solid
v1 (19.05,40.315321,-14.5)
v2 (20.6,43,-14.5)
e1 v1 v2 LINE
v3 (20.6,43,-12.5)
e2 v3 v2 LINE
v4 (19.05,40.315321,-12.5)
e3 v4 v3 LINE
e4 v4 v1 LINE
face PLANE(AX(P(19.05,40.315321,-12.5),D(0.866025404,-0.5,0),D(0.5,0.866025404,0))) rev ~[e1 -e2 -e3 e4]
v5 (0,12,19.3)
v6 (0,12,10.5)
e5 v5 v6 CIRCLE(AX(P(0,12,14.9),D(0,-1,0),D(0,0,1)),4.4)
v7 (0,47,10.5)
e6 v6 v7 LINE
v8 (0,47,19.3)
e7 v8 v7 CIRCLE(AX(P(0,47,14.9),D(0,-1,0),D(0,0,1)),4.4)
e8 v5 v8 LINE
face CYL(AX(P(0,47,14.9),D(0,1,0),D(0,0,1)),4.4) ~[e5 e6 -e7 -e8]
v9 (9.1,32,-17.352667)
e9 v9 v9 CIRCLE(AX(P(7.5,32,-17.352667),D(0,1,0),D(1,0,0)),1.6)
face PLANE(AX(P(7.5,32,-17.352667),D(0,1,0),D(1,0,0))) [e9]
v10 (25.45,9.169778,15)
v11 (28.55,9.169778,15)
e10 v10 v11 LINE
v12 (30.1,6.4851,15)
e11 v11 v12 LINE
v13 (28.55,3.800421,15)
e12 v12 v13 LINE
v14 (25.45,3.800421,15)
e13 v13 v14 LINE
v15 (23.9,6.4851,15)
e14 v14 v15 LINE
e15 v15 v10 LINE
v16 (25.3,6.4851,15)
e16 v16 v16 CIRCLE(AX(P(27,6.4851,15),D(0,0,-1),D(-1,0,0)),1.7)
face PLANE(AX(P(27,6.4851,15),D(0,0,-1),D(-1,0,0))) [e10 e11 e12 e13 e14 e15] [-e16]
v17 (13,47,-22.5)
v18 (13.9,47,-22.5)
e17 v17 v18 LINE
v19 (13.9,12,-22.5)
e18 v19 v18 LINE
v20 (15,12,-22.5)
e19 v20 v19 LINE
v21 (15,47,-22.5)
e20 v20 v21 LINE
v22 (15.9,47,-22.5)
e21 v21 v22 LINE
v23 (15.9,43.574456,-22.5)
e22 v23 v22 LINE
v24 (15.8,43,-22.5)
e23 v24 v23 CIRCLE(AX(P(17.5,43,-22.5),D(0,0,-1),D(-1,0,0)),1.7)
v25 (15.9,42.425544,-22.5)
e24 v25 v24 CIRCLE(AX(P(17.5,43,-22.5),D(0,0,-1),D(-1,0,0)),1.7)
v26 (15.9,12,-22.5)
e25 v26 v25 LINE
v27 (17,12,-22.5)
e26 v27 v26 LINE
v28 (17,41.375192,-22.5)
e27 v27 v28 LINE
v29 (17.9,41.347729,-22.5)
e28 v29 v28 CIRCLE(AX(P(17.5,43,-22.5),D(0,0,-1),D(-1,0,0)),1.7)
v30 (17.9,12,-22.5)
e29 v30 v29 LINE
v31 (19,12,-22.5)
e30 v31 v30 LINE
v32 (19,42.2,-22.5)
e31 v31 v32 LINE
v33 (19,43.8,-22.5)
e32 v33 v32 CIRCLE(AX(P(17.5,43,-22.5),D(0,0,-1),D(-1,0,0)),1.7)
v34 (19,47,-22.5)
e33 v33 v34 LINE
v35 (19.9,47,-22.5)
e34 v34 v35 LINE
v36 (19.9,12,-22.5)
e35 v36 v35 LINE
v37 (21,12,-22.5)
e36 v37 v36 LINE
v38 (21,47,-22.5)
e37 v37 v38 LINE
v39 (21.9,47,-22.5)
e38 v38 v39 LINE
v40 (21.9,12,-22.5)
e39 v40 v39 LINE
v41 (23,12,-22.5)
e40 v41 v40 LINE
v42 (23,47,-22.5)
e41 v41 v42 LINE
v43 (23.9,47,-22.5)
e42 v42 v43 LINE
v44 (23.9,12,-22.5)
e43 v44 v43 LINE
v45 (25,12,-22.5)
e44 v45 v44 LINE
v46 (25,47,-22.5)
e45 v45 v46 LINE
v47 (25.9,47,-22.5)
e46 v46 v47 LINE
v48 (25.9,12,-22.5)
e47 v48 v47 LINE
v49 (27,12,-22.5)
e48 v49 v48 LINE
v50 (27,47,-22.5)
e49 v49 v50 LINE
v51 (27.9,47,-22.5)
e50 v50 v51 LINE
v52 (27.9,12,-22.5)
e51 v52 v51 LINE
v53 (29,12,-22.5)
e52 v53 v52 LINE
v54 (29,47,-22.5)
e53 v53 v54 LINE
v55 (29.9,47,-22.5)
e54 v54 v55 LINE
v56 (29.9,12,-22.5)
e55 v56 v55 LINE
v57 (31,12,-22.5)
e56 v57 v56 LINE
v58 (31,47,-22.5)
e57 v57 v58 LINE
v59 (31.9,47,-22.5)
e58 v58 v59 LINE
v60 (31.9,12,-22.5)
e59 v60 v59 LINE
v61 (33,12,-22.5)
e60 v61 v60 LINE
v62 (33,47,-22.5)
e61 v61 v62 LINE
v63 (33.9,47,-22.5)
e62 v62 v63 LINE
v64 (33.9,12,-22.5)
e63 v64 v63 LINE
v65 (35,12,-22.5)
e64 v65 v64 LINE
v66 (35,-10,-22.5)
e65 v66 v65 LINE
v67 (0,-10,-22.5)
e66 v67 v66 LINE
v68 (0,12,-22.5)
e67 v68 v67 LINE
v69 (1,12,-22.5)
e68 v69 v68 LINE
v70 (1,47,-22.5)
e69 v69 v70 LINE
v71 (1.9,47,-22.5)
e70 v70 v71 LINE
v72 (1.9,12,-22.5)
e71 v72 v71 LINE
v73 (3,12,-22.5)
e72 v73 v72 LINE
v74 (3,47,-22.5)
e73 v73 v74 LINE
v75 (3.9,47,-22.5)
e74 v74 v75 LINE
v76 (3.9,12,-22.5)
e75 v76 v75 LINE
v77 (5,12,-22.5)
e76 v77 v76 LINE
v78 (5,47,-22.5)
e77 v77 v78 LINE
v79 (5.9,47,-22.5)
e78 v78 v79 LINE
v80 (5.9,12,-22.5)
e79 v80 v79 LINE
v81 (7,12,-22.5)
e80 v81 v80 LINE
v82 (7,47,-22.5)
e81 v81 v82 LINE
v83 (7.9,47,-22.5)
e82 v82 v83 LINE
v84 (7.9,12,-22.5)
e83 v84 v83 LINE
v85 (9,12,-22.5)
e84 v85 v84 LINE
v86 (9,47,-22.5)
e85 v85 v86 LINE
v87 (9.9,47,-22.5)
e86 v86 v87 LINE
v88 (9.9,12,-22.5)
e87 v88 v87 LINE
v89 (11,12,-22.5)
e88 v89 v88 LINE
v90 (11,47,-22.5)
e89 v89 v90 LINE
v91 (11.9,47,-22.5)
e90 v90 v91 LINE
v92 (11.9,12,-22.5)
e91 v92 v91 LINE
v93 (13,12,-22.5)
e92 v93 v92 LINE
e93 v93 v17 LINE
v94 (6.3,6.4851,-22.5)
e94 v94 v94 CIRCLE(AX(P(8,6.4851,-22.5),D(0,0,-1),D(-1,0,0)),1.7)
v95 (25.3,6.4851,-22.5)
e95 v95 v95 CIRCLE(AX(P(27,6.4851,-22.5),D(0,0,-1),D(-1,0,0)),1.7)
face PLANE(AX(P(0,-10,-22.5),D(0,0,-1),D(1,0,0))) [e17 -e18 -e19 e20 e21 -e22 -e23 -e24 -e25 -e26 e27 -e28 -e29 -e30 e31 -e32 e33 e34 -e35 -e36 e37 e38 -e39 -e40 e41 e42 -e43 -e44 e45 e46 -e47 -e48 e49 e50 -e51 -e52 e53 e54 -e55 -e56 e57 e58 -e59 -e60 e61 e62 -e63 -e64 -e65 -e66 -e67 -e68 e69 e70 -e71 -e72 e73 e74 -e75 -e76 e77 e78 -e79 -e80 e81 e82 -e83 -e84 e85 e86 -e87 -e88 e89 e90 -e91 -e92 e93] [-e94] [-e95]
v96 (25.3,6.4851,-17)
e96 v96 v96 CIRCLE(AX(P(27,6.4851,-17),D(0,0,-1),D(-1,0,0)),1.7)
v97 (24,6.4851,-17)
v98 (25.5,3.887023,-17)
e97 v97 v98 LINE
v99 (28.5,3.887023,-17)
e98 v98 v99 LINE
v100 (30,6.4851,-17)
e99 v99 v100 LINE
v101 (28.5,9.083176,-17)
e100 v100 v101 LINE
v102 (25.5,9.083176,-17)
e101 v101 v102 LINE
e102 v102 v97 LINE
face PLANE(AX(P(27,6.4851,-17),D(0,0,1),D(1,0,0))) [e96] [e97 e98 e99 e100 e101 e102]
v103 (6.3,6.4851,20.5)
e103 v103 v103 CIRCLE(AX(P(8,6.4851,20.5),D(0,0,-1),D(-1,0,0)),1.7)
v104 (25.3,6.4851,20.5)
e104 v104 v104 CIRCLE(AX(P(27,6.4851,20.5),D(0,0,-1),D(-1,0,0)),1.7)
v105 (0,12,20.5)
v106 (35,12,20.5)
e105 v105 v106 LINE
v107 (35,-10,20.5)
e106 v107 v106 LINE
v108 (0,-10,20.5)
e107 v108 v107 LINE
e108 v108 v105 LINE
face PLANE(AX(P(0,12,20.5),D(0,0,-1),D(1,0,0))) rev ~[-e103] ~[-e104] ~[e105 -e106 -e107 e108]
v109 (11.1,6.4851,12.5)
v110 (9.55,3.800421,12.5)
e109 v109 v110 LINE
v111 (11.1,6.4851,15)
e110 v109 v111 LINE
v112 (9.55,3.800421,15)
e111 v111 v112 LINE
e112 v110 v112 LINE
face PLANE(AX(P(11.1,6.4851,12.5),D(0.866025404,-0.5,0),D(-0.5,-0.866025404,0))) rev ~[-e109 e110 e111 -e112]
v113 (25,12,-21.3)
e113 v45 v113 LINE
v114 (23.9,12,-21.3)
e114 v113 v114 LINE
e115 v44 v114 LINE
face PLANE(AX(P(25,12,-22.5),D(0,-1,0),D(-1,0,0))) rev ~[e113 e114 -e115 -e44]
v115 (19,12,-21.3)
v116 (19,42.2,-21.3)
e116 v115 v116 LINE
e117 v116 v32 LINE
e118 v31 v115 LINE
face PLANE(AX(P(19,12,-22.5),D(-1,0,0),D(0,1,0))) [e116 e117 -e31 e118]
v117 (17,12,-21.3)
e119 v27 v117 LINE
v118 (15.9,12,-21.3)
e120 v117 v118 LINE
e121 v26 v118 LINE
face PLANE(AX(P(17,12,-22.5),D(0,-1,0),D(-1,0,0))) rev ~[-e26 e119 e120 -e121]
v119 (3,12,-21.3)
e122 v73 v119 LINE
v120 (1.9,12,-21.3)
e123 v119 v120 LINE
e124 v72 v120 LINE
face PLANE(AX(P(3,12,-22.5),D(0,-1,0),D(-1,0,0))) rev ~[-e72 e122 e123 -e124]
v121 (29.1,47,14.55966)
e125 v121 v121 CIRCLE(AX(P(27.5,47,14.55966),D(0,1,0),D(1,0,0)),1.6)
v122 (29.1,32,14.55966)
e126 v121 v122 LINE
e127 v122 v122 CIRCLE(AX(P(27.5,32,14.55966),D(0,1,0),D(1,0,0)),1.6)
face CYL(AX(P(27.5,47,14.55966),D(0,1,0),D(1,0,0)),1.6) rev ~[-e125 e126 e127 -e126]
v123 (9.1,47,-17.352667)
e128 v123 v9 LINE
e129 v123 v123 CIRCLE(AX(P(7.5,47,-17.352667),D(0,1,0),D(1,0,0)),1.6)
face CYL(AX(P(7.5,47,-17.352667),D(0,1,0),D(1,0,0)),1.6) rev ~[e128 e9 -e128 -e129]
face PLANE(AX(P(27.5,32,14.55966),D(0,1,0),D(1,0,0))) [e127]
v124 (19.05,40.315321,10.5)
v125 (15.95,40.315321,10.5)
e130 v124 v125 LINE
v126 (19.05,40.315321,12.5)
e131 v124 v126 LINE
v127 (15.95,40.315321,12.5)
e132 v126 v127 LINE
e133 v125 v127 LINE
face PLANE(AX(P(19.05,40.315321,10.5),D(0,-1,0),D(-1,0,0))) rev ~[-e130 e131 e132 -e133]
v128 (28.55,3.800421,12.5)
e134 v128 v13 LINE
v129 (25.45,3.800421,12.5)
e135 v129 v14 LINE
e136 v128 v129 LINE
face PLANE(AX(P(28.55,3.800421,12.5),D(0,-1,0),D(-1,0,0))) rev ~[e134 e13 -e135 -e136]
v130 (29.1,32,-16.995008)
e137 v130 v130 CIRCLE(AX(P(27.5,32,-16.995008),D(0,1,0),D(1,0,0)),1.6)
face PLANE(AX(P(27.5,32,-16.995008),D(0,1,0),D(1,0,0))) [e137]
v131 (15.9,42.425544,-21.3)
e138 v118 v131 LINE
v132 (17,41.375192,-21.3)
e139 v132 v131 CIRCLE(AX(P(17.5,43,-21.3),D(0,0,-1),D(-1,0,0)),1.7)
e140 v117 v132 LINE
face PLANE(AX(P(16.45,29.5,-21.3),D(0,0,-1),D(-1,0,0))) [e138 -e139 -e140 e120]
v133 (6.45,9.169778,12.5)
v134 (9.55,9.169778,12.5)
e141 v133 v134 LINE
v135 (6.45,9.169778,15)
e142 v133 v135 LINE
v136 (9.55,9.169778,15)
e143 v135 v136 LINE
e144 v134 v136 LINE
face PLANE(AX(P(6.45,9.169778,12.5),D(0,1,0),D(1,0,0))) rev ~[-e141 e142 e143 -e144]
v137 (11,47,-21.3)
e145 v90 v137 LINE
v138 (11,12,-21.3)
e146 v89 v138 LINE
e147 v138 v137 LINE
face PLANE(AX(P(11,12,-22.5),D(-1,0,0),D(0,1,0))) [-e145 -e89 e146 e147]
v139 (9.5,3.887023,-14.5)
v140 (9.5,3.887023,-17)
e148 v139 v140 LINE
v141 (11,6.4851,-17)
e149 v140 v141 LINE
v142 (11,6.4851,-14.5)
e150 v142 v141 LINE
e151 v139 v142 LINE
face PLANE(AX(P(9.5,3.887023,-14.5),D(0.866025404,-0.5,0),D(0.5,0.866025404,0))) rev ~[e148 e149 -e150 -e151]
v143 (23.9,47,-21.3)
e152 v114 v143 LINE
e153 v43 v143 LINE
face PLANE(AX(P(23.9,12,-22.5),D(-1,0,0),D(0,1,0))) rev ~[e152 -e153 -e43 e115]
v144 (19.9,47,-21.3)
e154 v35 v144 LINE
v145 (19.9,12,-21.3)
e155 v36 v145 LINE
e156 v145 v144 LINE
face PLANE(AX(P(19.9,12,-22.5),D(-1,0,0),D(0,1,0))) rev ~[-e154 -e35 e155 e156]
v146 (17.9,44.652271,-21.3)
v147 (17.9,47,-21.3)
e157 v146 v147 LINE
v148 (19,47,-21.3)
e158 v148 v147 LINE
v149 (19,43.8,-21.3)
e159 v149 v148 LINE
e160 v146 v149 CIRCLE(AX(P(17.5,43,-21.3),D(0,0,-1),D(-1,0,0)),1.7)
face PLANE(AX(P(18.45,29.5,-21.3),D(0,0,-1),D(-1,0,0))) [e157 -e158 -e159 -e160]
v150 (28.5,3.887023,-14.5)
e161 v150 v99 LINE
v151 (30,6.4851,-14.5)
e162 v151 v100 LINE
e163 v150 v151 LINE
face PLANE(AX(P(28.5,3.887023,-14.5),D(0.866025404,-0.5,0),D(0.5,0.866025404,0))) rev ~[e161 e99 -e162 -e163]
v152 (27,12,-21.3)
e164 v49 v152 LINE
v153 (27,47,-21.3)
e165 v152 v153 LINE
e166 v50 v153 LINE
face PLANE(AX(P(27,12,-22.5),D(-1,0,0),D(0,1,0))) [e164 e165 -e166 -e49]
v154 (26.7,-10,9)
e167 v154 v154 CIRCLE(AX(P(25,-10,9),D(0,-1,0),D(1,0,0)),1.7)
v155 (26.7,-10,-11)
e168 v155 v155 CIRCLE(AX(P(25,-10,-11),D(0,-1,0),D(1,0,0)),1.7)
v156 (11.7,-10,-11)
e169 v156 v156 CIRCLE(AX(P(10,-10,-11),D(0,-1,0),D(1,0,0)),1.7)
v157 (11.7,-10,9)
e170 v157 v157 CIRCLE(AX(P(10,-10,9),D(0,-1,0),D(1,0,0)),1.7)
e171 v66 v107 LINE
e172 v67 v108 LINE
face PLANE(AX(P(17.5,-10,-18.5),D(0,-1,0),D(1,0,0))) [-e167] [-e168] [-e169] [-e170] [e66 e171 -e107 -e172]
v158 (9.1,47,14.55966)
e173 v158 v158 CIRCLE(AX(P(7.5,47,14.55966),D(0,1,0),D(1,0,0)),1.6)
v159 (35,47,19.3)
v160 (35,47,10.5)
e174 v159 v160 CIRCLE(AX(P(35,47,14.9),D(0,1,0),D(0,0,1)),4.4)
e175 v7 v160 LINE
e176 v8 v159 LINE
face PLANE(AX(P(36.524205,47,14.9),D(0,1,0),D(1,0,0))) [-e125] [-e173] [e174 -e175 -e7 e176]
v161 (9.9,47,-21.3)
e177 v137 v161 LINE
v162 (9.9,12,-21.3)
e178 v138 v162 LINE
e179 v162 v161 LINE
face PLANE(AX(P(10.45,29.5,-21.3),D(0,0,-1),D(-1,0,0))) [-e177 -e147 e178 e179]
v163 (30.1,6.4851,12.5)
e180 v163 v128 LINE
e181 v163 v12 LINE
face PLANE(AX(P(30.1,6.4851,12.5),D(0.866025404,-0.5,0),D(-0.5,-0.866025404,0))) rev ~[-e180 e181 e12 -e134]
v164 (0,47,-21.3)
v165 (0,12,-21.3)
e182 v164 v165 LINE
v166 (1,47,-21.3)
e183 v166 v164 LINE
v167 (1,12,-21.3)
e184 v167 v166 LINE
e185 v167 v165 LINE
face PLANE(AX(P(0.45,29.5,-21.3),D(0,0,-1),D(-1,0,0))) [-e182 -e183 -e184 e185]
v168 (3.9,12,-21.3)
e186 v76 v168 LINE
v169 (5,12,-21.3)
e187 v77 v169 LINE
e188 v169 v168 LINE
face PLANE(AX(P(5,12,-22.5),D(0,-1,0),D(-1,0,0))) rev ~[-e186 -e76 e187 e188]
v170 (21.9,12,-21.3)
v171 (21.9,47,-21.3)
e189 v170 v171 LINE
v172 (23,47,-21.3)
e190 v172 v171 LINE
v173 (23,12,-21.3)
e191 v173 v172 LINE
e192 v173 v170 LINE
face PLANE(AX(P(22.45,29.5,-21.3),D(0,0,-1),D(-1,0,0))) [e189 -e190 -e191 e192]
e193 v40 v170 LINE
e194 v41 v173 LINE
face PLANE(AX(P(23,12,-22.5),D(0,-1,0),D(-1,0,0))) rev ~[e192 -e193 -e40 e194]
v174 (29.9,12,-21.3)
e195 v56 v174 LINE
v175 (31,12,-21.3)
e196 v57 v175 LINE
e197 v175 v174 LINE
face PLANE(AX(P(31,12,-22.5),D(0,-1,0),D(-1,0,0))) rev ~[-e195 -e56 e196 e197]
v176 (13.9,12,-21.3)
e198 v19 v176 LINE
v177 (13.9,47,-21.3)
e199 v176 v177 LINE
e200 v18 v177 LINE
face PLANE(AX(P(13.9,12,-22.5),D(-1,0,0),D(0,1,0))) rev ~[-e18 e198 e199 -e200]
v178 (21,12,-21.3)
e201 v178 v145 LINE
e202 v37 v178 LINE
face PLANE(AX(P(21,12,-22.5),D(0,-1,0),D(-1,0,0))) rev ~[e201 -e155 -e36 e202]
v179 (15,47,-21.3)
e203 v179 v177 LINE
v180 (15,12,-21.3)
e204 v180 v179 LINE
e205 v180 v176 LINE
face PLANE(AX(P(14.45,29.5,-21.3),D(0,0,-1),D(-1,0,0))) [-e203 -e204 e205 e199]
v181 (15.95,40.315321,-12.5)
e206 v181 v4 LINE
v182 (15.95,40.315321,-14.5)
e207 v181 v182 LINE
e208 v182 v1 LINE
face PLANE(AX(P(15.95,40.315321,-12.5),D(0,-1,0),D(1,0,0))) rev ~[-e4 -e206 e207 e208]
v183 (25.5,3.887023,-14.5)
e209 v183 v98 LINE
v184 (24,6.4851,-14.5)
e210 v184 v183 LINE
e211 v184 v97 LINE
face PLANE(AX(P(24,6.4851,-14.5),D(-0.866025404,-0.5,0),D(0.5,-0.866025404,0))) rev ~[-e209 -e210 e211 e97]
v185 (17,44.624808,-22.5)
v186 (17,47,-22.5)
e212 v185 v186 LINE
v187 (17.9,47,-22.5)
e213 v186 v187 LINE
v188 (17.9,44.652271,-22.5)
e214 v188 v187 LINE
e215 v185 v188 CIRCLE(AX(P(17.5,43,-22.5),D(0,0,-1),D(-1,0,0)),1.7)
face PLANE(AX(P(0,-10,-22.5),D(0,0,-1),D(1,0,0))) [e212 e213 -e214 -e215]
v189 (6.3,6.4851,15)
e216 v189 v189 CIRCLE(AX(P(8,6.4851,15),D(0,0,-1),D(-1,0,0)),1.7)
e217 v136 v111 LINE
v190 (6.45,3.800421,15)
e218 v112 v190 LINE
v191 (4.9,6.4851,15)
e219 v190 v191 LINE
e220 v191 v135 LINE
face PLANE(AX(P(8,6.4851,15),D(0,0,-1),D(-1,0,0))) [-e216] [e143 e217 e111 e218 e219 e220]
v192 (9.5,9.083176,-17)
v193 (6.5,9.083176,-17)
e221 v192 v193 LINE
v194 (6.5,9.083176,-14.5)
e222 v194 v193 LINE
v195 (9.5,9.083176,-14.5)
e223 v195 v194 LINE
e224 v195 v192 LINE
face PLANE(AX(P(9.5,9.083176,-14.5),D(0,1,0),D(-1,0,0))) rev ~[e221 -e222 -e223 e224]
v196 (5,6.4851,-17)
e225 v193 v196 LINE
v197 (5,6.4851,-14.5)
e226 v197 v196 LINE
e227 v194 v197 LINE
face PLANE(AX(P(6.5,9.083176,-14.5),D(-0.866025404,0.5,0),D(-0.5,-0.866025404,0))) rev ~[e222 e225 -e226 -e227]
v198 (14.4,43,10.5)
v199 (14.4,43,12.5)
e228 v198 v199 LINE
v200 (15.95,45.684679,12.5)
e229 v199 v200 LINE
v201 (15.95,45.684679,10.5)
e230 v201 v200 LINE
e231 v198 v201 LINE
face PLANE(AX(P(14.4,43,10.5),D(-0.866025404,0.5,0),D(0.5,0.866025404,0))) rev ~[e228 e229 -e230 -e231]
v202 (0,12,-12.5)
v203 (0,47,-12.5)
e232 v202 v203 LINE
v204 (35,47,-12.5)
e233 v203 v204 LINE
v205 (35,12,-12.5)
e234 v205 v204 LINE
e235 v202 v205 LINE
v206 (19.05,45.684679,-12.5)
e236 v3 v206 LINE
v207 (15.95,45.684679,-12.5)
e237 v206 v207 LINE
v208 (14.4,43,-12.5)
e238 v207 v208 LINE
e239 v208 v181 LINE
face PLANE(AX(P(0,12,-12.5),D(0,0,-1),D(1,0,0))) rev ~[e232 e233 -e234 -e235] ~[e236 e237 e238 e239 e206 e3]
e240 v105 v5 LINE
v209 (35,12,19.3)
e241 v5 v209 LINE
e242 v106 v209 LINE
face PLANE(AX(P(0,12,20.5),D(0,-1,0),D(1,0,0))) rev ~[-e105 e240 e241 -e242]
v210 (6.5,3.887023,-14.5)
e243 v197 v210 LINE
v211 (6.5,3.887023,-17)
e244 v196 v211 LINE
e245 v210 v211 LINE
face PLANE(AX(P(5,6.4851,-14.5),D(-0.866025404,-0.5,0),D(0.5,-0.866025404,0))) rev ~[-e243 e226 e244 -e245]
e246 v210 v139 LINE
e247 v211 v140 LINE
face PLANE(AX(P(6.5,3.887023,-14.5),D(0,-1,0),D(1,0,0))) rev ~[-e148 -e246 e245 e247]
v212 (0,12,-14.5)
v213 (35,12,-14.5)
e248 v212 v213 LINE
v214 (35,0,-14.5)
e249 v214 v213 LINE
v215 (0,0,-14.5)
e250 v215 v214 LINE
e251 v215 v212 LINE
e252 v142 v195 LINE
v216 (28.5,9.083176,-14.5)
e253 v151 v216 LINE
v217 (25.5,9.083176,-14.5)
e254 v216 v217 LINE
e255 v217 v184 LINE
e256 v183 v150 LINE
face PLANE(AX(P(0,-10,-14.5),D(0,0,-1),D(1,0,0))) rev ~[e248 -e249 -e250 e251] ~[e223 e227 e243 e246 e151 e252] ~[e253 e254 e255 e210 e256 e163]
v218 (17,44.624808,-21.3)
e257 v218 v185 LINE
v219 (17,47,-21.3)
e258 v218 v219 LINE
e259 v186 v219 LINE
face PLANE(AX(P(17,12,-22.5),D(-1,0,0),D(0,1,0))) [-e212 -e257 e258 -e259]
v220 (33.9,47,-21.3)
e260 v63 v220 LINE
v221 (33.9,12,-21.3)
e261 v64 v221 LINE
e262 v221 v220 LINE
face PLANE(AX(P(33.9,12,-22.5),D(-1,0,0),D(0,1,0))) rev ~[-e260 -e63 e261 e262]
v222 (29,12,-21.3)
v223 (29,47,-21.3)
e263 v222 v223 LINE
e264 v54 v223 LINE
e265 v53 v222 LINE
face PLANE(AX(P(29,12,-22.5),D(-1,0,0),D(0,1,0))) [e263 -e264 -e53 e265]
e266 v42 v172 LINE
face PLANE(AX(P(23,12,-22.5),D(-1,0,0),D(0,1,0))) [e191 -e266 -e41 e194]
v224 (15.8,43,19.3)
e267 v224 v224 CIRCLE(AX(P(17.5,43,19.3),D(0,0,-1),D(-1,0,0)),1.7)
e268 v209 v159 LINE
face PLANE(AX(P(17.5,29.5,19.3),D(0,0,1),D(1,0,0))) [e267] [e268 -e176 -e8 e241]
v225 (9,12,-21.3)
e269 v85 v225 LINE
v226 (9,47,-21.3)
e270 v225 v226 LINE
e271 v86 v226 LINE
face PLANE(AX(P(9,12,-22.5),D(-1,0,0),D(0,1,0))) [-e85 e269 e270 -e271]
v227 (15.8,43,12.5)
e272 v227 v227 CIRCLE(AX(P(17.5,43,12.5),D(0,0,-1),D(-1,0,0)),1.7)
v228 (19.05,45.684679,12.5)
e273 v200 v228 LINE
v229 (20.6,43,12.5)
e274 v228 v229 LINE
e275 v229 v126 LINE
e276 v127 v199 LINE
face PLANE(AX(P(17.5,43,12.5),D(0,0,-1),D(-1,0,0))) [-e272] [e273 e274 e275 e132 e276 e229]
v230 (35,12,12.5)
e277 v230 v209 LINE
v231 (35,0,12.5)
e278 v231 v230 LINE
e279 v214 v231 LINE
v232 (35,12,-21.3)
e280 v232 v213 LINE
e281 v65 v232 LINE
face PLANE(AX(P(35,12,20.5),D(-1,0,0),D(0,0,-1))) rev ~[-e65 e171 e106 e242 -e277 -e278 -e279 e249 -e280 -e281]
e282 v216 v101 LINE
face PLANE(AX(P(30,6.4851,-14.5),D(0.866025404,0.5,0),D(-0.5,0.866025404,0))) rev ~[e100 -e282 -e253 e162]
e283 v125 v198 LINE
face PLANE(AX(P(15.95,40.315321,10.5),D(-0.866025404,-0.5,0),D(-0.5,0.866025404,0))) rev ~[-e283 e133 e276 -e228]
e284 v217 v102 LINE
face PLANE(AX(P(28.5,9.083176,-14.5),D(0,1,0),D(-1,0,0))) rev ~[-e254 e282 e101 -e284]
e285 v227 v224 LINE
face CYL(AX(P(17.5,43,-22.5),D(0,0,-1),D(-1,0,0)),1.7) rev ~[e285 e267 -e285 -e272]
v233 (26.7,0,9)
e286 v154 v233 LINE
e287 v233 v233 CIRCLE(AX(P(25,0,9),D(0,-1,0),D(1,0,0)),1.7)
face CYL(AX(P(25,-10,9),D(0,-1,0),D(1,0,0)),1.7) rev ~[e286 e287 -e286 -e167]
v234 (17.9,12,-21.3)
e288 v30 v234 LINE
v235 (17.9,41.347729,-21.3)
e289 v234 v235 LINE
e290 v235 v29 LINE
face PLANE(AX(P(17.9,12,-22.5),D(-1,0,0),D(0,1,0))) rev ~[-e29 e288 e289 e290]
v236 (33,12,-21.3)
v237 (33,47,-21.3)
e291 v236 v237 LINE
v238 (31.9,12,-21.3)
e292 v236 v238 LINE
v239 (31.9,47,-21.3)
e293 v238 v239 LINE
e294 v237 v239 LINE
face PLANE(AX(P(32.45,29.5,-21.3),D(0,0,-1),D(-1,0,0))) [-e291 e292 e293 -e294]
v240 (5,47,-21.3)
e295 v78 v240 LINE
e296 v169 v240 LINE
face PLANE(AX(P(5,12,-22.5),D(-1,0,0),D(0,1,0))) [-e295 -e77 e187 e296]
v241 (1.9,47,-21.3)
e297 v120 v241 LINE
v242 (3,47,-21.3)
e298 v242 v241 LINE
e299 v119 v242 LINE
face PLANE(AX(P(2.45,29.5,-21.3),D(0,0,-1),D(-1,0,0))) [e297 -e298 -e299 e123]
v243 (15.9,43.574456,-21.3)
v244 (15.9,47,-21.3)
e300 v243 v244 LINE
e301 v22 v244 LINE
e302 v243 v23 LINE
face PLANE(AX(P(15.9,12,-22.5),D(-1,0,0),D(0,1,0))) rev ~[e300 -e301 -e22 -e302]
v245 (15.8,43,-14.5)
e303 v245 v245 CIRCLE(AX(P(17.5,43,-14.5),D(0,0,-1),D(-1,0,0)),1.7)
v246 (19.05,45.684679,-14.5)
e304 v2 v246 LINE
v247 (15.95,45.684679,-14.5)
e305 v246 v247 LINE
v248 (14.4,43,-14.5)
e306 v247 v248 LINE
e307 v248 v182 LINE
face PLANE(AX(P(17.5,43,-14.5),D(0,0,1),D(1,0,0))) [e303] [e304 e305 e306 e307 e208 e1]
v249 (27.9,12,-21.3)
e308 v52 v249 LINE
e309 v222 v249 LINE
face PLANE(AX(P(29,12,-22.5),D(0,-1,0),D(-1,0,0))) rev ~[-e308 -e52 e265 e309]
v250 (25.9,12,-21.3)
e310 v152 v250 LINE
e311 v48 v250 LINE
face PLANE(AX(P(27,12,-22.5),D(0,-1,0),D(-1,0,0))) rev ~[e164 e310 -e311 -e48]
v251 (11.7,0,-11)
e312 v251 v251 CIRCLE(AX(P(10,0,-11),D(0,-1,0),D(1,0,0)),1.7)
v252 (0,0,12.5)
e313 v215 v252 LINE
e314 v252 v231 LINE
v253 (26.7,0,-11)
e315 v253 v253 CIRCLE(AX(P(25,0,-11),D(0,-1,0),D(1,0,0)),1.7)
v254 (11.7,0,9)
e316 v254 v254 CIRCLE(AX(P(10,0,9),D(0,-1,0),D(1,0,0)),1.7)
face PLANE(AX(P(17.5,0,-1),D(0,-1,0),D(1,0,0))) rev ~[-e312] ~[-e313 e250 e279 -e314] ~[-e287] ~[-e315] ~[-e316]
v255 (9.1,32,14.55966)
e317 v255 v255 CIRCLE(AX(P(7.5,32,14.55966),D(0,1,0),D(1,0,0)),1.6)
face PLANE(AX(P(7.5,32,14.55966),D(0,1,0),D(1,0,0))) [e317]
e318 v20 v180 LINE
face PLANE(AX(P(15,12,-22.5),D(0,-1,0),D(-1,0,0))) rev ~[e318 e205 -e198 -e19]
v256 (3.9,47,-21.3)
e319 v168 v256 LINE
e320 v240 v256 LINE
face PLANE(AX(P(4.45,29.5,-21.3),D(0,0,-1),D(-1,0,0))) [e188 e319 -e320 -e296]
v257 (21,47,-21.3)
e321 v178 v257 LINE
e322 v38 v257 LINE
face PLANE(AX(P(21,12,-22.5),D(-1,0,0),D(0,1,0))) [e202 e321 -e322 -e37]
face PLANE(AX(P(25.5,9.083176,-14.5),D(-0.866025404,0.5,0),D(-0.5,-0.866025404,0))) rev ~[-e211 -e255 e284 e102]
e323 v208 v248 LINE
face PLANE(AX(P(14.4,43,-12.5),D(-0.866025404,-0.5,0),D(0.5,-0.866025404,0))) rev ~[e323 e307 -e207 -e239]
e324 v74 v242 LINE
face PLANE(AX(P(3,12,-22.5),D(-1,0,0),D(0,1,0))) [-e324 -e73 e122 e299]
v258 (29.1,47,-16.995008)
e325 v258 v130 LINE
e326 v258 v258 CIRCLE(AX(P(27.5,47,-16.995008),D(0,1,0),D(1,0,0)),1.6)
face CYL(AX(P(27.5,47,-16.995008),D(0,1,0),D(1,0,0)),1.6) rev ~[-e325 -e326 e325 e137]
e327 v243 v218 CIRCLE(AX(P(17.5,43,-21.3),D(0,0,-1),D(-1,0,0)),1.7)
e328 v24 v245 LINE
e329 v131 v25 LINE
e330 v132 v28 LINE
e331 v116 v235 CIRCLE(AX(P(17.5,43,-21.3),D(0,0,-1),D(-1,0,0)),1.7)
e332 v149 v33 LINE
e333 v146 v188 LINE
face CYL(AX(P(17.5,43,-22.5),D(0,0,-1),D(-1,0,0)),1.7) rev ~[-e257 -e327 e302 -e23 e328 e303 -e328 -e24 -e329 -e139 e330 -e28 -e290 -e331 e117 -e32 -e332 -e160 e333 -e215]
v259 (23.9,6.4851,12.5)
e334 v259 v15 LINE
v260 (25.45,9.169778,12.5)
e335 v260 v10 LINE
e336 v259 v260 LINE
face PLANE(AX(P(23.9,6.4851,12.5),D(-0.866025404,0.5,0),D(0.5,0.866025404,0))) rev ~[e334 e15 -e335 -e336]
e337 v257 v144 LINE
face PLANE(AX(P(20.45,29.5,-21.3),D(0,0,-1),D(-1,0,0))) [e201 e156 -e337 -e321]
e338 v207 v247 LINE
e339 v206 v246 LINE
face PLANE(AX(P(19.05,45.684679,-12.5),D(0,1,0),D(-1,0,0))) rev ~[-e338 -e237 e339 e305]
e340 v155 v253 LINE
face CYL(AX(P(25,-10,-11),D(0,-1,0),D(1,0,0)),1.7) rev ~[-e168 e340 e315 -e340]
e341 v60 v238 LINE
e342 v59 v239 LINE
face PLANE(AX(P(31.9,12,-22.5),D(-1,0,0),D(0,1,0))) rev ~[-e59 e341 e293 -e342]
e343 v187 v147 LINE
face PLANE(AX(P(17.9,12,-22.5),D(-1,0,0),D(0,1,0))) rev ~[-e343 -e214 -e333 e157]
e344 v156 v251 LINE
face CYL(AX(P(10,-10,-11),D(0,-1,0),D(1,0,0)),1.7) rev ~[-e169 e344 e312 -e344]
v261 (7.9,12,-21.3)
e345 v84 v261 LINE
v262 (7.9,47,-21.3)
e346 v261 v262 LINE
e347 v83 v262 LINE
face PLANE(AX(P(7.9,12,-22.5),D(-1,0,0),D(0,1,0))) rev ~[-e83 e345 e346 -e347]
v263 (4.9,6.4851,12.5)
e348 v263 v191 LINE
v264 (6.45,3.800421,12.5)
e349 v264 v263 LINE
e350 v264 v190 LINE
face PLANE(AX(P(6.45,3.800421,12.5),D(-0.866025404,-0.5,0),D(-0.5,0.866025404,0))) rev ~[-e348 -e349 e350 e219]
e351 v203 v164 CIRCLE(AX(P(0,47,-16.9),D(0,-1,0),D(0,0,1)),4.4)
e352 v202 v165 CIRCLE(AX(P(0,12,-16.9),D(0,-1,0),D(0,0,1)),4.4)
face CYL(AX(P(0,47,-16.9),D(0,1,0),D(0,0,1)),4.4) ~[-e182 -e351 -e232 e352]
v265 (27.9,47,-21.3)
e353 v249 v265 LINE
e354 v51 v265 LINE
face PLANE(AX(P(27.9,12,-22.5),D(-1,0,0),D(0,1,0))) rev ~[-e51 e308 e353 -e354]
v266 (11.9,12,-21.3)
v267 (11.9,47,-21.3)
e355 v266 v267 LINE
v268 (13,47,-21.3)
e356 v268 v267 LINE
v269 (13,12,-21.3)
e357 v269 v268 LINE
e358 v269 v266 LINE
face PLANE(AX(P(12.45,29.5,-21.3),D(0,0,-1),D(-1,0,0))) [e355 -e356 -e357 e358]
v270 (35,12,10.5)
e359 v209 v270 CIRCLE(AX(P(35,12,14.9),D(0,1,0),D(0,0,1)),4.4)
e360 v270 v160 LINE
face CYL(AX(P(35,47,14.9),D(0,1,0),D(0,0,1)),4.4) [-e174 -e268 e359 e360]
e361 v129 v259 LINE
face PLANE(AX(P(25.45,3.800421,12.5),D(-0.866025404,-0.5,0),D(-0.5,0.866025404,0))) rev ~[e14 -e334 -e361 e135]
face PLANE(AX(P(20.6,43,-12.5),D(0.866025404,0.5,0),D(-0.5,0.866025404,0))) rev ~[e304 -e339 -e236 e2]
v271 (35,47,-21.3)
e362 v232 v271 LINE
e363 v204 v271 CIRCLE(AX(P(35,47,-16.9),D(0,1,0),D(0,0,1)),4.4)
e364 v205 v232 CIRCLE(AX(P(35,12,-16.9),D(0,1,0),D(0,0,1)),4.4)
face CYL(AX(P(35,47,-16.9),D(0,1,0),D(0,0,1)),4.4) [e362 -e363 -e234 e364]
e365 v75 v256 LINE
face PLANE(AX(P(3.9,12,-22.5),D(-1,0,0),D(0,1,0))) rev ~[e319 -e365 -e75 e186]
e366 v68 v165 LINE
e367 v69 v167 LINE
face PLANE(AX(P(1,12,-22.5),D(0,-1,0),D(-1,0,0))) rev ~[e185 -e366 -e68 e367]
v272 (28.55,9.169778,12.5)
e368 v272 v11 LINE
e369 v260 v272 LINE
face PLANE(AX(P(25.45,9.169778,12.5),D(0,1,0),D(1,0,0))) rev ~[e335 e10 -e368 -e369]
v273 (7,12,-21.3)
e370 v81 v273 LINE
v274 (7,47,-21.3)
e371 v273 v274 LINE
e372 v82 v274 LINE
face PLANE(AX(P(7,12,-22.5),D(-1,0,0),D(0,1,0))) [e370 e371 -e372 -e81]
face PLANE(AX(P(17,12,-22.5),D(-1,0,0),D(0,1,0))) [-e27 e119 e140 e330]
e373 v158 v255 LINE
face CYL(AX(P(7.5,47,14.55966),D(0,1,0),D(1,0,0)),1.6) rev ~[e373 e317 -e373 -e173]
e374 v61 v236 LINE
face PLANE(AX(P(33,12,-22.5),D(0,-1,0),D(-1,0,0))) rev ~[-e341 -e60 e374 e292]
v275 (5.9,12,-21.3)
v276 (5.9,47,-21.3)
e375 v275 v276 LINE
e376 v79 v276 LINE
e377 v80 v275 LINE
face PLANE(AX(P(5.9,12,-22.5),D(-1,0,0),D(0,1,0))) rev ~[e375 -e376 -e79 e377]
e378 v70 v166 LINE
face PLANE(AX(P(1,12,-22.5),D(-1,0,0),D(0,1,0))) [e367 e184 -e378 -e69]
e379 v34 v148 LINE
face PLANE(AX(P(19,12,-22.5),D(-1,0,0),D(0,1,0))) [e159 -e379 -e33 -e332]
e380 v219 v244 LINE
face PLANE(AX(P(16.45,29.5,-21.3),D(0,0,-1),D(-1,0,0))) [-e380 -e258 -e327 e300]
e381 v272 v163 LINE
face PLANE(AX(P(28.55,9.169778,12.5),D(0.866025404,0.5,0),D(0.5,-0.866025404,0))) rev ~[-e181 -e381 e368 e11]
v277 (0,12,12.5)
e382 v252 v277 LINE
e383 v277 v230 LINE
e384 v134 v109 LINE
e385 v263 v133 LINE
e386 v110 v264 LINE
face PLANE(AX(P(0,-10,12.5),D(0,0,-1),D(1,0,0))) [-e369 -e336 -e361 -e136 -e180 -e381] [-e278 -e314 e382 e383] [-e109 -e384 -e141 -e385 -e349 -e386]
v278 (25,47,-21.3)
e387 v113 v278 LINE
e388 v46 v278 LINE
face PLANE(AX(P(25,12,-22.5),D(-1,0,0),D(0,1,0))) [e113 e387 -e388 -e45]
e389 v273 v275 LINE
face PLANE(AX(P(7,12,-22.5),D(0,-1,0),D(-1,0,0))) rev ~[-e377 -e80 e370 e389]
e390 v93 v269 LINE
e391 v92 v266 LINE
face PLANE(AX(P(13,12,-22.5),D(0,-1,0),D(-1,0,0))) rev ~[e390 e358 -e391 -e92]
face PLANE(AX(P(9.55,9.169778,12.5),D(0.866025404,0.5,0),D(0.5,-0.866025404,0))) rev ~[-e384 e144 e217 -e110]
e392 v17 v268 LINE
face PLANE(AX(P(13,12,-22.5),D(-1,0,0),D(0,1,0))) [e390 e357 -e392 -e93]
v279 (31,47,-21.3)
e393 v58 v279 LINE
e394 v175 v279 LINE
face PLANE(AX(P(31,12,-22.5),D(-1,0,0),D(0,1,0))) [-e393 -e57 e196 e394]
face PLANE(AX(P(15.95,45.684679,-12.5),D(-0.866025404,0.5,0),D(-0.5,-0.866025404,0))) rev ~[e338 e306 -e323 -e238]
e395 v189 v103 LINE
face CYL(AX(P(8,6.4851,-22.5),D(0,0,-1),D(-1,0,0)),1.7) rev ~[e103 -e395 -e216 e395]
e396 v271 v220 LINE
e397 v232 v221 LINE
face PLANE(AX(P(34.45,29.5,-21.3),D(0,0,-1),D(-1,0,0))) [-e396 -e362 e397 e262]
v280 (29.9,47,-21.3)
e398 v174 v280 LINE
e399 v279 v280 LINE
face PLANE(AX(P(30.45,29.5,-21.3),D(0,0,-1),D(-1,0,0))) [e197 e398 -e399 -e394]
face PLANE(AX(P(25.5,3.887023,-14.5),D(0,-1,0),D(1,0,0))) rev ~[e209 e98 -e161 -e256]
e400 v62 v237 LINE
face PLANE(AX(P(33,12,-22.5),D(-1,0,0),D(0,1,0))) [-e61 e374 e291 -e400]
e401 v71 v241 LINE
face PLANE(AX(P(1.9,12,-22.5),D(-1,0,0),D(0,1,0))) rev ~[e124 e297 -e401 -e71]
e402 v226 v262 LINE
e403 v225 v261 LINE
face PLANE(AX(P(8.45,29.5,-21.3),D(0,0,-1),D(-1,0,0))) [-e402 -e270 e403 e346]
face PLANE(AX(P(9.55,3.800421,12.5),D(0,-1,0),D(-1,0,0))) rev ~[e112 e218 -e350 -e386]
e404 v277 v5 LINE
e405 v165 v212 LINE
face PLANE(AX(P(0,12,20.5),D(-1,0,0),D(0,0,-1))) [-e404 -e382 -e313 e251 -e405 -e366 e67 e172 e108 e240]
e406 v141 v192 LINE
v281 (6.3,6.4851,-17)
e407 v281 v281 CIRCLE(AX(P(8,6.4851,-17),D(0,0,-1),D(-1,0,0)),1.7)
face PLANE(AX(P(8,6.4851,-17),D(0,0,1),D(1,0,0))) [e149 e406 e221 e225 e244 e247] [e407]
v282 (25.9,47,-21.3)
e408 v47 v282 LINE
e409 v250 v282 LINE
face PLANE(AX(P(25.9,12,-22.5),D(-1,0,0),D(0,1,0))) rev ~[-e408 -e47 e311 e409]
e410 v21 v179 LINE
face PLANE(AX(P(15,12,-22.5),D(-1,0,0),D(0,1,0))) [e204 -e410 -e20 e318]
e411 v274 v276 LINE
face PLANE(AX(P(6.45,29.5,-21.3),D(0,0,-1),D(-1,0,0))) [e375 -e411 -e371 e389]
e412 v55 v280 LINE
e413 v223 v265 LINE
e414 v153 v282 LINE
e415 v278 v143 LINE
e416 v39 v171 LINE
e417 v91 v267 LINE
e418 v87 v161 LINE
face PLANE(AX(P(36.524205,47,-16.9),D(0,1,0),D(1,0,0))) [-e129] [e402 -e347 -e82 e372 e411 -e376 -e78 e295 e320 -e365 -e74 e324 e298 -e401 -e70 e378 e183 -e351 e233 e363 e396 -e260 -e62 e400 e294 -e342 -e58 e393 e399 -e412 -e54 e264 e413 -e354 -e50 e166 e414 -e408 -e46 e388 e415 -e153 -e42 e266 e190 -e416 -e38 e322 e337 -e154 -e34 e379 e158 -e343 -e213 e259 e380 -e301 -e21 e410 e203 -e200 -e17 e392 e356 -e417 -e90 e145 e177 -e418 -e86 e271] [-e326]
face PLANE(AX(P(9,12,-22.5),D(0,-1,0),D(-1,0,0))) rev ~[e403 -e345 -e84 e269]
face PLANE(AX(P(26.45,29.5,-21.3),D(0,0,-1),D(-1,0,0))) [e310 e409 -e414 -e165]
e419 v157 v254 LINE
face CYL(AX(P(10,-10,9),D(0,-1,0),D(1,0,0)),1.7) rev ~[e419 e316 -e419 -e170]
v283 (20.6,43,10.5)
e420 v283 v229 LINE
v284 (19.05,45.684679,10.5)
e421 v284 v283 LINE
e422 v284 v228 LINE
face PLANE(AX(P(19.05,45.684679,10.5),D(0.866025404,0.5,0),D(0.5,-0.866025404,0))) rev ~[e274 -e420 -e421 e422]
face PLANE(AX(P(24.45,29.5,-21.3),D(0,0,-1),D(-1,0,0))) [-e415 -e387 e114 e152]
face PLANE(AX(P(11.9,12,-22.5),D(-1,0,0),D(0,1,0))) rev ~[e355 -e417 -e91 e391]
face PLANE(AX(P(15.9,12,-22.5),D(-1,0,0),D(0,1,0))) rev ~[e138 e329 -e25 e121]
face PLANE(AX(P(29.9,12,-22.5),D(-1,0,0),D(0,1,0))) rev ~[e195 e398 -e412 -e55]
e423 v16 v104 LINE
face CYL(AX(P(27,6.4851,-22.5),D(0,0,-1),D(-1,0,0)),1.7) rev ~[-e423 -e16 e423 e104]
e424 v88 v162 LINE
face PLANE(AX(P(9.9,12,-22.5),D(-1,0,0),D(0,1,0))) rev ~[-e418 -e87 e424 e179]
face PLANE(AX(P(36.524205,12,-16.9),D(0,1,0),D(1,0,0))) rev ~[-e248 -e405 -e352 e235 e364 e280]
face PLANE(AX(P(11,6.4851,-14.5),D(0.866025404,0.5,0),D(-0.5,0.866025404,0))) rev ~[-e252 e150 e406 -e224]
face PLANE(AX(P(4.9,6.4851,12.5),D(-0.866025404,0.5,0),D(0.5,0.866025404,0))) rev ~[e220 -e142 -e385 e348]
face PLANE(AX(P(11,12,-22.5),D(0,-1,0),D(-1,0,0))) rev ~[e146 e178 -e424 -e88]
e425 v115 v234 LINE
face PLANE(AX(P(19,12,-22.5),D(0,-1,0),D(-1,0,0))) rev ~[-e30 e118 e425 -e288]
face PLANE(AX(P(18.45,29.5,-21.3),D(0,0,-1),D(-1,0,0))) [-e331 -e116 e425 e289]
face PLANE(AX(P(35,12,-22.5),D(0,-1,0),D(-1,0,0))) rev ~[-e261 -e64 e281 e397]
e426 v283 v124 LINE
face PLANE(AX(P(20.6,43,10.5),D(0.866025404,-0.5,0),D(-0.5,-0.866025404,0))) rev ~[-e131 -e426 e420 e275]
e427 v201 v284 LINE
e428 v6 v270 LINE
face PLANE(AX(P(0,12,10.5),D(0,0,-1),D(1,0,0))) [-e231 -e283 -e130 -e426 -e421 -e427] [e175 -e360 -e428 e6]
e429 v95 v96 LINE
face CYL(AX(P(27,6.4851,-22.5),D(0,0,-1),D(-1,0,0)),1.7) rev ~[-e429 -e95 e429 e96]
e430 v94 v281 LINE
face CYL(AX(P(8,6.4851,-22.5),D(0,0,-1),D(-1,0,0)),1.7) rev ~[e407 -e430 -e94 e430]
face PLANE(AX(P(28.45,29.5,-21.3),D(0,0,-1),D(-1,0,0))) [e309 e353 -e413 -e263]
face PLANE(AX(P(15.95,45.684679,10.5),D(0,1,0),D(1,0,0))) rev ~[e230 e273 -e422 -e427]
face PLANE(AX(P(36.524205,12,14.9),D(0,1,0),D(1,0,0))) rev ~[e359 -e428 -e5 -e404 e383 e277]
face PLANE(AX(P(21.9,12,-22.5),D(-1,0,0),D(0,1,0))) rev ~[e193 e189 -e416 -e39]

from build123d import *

# Parameters (mm, degrees)
SKETCH11_W          = 35
SKETCH11_H          = 27
BOSS_EXTRUDE6_DEPTH = 10
SKETCH12_R          = 1.7
CUT_EXTRUDE3_DEPTH  = 11
SKETCH13_W          = 35
SKETCH13_H          = 8
BOSS_EXTRUDE7_DEPTH = 22
SKETCH14_W          = 35
SKETCH14_H          = 10
BOSS_EXTRUDE8_DEPTH = 35
SKETCH17_W          = 35
SKETCH17_H          = 35
CUT_EXTRUDE6_DEPTH  = 1.2
SKETCH18_W          = 1.1
SKETCH18_H          = 35
CUT_EXTRUDE7_DEPTH  = 1.2
SKETCH19_R          = 1.7
CUT_EXTRUDE8_DEPTH  = 44
CUT_EXTRUDE9_DEPTH  = 2.5
CUT_EXTRUDE10_DEPTH = 2.5
BOSS_EXTRUDE9_DEPTH = 35
SKETCH23_R          = 1.6
CUT_EXTRUDE11_DEPTH = 15
CUT_EXTRUDE12_DEPTH = 2
CUT_EXTRUDE13_DEPTH = 2


with BuildPart() as part:
    # Sketch11 → Boss-Extrude6 (new body)
    with BuildSketch(Plane(origin=(0, 0, 12.5), x_dir=(1, 0, 0), z_dir=(0, -1, 0))):
        with Locations((17.5, -13.5)):
            Rectangle(SKETCH11_W, SKETCH11_H)
    extrude(amount=BOSS_EXTRUDE6_DEPTH)

    # Sketch12 → Cut-Extrude3 (cut, through all)
    with BuildSketch(Plane.XZ.offset(10)):
        with Locations((10, 9)):
            Circle(SKETCH12_R)
        with Locations((25, 9)):
            Circle(SKETCH12_R)
        with Locations((25, -11)):
            Circle(SKETCH12_R)
        with Locations((10, -11)):
            Circle(SKETCH12_R)
    extrude(amount=-CUT_EXTRUDE3_DEPTH, mode=Mode.SUBTRACT)

    # Sketch13 → Boss-Extrude7 (add)
    with BuildSketch(Plane.XZ.offset(10)):
        with Locations((17.5, -18.5)):
            Rectangle(SKETCH13_W, SKETCH13_H)
        with Locations((17.5, 16.5)):
            Rectangle(SKETCH13_W, SKETCH13_H)
    extrude(amount=-BOSS_EXTRUDE7_DEPTH)

    # Sketch14 → Boss-Extrude8 (add)
    with BuildSketch(Plane(origin=(0, 12, 0), x_dir=(1, 0, 0), z_dir=(0, 1, 0))):
        with Locations((17.5, -15.5)):
            Rectangle(SKETCH14_W, SKETCH14_H)
        with Locations((17.5, 17.5)):
            Rectangle(SKETCH14_W, SKETCH14_H)
    extrude(amount=BOSS_EXTRUDE8_DEPTH)

    # Sketch17 → Cut-Extrude6 (cut)
    with BuildSketch(Plane.XY.offset(20.5)):
        with Locations((17.5, 29.5)):
            Rectangle(SKETCH17_W, SKETCH17_H)
    extrude(amount=-CUT_EXTRUDE6_DEPTH, mode=Mode.SUBTRACT)

    # Sketch18 → Cut-Extrude7 (cut)
    with BuildSketch(Plane(origin=(0, 0, -22.5), x_dir=(-1, 0, 0), z_dir=(0, 0, -1))):
        with Locations((-32.45, 29.5)):
            Rectangle(SKETCH18_W, SKETCH18_H)
        with Locations((-34.45, 29.5)):
            Rectangle(SKETCH18_W, SKETCH18_H)
        with Locations((-30.45, 29.5)):
            Rectangle(SKETCH18_W, SKETCH18_H)
        with Locations((-28.45, 29.5)):
            Rectangle(SKETCH18_W, SKETCH18_H)
        with Locations((-26.45, 29.5)):
            Rectangle(SKETCH18_W, SKETCH18_H)
        with Locations((-24.45, 29.5)):
            Rectangle(SKETCH18_W, SKETCH18_H)
        with Locations((-22.45, 29.5)):
            Rectangle(SKETCH18_W, SKETCH18_H)
        with Locations((-20.45, 29.5)):
            Rectangle(SKETCH18_W, SKETCH18_H)
        with Locations((-18.45, 29.5)):
            Rectangle(SKETCH18_W, SKETCH18_H)
        with Locations((-16.45, 29.5)):
            Rectangle(SKETCH18_W, SKETCH18_H)
        with Locations((-14.45, 29.5)):
            Rectangle(SKETCH18_W, SKETCH18_H)
        with Locations((-12.45, 29.5)):
            Rectangle(SKETCH18_W, SKETCH18_H)
        with Locations((-10.45, 29.5)):
            Rectangle(SKETCH18_W, SKETCH18_H)
        with Locations((-8.45, 29.5)):
            Rectangle(SKETCH18_W, SKETCH18_H)
        with Locations((-6.45, 29.5)):
            Rectangle(SKETCH18_W, SKETCH18_H)
        with Locations((-4.45, 29.5)):
            Rectangle(SKETCH18_W, SKETCH18_H)
        with Locations((-2.45, 29.5)):
            Rectangle(SKETCH18_W, SKETCH18_H)
        with Locations((-0.45, 29.5)):
            Rectangle(SKETCH18_W, SKETCH18_H)
    extrude(amount=-CUT_EXTRUDE7_DEPTH, mode=Mode.SUBTRACT)

    # Sketch19 → Cut-Extrude8 (cut, through all)
    with BuildSketch(Plane(origin=(0, 0, -22.5), x_dir=(-1, 0, 0), z_dir=(0, 0, -1))):
        with Locations((-27, 6.485099569)):
            Circle(SKETCH19_R)
        with Locations((-8, 6.485099569)):
            Circle(SKETCH19_R)
        with Locations((-17.5, 43)):
            Circle(SKETCH19_R)
    extrude(amount=-CUT_EXTRUDE8_DEPTH, mode=Mode.SUBTRACT)

    # Sketch20 → Cut-Extrude9 (cut)
    with BuildSketch(Plane.XY.offset(-14.5)):
        Polygon((28.5, 3.887023357), (30, 6.485099569), (28.5, 9.08317578), (25.5, 9.08317578), (24, 6.485099569), (25.5, 3.887023357), align=None)
        Polygon((9.5, 3.887023357), (11, 6.485099569), (9.5, 9.08317578), (6.5, 9.08317578), (5, 6.485099569), (6.5, 3.887023357), align=None)
    extrude(amount=-CUT_EXTRUDE9_DEPTH, mode=Mode.SUBTRACT)

    # Sketch21 → Cut-Extrude10 (cut)
    with BuildSketch(Plane(origin=(0, 0, 12.5), x_dir=(-1, 0, 0), z_dir=(0, 0, -1))):
        Polygon((-6.45, 3.800420817), (-4.9, 6.485099569), (-6.45, 9.16977832), (-9.55, 9.16977832), (-11.1, 6.485099569), (-9.55, 3.800420817), align=None)
        Polygon((-25.45, 3.800420817), (-23.9, 6.485099569), (-25.45, 9.16977832), (-28.55, 9.16977832), (-30.1, 6.485099569), (-28.55, 3.800420817), align=None)
    extrude(amount=-CUT_EXTRUDE10_DEPTH, mode=Mode.SUBTRACT)

    # Sketch22 → Boss-Extrude9 (add)
    with BuildSketch(Plane(origin=(0, 47, 0), x_dir=(1, 0, 0), z_dir=(0, 1, 0))):
        with BuildLine():
            Line((35, 21.3), (35, 12.5))
            ThreePointArc((35, 12.5), (39.4, 16.9), (35, 21.3))
        make_face()
        with BuildLine():
            Line((35, -10.5), (35, -19.3))
            ThreePointArc((35, -19.3), (39.4, -14.9), (35, -10.5))
        make_face()
        with BuildLine():
            Line((0, 21.3), (0, 12.5))
            ThreePointArc((0, 12.5), (-4.4, 16.9), (0, 21.3))
        make_face()
        with BuildLine():
            Line((0, -10.5), (0, -19.3))
            ThreePointArc((0, -19.3), (-4.4, -14.9), (0, -10.5))
        make_face()
    extrude(amount=-BOSS_EXTRUDE9_DEPTH)

    # Sketch23 → Cut-Extrude11 (cut)
    with BuildSketch(Plane(origin=(0, 47, 0), x_dir=(1, 0, 0), z_dir=(0, 1, 0))):
        with Locations((7.5, 17.352667036)):
            Circle(SKETCH23_R)
        with Locations((27.5, 16.995008076)):
            Circle(SKETCH23_R)
        with Locations((27.5, -14.559659808)):
            Circle(SKETCH23_R)
        with Locations((7.5, -14.559659808)):
            Circle(SKETCH23_R)
    extrude(amount=-CUT_EXTRUDE11_DEPTH, mode=Mode.SUBTRACT)

    # Sketch24 → Cut-Extrude12 (cut)
    with BuildSketch(Plane(origin=(0, 0, 10.5), x_dir=(-1, 0, 0), z_dir=(0, 0, -1))):
        Polygon((-15.95, 40.315321248), (-14.4, 43), (-15.95, 45.684678752), (-19.05, 45.684678752), (-20.6, 43), (-19.05, 40.315321248), align=None)
    extrude(amount=-CUT_EXTRUDE12_DEPTH, mode=Mode.SUBTRACT)

    # Sketch25 → Cut-Extrude13 (cut)
    with BuildSketch(Plane.XY.offset(-12.5)):
        Polygon((19.05, 40.315321248), (20.6, 43), (19.05, 45.684678752), (15.95, 45.684678752), (14.4, 43), (15.95, 40.315321248), align=None)
    extrude(amount=-CUT_EXTRUDE13_DEPTH, mode=Mode.SUBTRACT)


solid = part.part
